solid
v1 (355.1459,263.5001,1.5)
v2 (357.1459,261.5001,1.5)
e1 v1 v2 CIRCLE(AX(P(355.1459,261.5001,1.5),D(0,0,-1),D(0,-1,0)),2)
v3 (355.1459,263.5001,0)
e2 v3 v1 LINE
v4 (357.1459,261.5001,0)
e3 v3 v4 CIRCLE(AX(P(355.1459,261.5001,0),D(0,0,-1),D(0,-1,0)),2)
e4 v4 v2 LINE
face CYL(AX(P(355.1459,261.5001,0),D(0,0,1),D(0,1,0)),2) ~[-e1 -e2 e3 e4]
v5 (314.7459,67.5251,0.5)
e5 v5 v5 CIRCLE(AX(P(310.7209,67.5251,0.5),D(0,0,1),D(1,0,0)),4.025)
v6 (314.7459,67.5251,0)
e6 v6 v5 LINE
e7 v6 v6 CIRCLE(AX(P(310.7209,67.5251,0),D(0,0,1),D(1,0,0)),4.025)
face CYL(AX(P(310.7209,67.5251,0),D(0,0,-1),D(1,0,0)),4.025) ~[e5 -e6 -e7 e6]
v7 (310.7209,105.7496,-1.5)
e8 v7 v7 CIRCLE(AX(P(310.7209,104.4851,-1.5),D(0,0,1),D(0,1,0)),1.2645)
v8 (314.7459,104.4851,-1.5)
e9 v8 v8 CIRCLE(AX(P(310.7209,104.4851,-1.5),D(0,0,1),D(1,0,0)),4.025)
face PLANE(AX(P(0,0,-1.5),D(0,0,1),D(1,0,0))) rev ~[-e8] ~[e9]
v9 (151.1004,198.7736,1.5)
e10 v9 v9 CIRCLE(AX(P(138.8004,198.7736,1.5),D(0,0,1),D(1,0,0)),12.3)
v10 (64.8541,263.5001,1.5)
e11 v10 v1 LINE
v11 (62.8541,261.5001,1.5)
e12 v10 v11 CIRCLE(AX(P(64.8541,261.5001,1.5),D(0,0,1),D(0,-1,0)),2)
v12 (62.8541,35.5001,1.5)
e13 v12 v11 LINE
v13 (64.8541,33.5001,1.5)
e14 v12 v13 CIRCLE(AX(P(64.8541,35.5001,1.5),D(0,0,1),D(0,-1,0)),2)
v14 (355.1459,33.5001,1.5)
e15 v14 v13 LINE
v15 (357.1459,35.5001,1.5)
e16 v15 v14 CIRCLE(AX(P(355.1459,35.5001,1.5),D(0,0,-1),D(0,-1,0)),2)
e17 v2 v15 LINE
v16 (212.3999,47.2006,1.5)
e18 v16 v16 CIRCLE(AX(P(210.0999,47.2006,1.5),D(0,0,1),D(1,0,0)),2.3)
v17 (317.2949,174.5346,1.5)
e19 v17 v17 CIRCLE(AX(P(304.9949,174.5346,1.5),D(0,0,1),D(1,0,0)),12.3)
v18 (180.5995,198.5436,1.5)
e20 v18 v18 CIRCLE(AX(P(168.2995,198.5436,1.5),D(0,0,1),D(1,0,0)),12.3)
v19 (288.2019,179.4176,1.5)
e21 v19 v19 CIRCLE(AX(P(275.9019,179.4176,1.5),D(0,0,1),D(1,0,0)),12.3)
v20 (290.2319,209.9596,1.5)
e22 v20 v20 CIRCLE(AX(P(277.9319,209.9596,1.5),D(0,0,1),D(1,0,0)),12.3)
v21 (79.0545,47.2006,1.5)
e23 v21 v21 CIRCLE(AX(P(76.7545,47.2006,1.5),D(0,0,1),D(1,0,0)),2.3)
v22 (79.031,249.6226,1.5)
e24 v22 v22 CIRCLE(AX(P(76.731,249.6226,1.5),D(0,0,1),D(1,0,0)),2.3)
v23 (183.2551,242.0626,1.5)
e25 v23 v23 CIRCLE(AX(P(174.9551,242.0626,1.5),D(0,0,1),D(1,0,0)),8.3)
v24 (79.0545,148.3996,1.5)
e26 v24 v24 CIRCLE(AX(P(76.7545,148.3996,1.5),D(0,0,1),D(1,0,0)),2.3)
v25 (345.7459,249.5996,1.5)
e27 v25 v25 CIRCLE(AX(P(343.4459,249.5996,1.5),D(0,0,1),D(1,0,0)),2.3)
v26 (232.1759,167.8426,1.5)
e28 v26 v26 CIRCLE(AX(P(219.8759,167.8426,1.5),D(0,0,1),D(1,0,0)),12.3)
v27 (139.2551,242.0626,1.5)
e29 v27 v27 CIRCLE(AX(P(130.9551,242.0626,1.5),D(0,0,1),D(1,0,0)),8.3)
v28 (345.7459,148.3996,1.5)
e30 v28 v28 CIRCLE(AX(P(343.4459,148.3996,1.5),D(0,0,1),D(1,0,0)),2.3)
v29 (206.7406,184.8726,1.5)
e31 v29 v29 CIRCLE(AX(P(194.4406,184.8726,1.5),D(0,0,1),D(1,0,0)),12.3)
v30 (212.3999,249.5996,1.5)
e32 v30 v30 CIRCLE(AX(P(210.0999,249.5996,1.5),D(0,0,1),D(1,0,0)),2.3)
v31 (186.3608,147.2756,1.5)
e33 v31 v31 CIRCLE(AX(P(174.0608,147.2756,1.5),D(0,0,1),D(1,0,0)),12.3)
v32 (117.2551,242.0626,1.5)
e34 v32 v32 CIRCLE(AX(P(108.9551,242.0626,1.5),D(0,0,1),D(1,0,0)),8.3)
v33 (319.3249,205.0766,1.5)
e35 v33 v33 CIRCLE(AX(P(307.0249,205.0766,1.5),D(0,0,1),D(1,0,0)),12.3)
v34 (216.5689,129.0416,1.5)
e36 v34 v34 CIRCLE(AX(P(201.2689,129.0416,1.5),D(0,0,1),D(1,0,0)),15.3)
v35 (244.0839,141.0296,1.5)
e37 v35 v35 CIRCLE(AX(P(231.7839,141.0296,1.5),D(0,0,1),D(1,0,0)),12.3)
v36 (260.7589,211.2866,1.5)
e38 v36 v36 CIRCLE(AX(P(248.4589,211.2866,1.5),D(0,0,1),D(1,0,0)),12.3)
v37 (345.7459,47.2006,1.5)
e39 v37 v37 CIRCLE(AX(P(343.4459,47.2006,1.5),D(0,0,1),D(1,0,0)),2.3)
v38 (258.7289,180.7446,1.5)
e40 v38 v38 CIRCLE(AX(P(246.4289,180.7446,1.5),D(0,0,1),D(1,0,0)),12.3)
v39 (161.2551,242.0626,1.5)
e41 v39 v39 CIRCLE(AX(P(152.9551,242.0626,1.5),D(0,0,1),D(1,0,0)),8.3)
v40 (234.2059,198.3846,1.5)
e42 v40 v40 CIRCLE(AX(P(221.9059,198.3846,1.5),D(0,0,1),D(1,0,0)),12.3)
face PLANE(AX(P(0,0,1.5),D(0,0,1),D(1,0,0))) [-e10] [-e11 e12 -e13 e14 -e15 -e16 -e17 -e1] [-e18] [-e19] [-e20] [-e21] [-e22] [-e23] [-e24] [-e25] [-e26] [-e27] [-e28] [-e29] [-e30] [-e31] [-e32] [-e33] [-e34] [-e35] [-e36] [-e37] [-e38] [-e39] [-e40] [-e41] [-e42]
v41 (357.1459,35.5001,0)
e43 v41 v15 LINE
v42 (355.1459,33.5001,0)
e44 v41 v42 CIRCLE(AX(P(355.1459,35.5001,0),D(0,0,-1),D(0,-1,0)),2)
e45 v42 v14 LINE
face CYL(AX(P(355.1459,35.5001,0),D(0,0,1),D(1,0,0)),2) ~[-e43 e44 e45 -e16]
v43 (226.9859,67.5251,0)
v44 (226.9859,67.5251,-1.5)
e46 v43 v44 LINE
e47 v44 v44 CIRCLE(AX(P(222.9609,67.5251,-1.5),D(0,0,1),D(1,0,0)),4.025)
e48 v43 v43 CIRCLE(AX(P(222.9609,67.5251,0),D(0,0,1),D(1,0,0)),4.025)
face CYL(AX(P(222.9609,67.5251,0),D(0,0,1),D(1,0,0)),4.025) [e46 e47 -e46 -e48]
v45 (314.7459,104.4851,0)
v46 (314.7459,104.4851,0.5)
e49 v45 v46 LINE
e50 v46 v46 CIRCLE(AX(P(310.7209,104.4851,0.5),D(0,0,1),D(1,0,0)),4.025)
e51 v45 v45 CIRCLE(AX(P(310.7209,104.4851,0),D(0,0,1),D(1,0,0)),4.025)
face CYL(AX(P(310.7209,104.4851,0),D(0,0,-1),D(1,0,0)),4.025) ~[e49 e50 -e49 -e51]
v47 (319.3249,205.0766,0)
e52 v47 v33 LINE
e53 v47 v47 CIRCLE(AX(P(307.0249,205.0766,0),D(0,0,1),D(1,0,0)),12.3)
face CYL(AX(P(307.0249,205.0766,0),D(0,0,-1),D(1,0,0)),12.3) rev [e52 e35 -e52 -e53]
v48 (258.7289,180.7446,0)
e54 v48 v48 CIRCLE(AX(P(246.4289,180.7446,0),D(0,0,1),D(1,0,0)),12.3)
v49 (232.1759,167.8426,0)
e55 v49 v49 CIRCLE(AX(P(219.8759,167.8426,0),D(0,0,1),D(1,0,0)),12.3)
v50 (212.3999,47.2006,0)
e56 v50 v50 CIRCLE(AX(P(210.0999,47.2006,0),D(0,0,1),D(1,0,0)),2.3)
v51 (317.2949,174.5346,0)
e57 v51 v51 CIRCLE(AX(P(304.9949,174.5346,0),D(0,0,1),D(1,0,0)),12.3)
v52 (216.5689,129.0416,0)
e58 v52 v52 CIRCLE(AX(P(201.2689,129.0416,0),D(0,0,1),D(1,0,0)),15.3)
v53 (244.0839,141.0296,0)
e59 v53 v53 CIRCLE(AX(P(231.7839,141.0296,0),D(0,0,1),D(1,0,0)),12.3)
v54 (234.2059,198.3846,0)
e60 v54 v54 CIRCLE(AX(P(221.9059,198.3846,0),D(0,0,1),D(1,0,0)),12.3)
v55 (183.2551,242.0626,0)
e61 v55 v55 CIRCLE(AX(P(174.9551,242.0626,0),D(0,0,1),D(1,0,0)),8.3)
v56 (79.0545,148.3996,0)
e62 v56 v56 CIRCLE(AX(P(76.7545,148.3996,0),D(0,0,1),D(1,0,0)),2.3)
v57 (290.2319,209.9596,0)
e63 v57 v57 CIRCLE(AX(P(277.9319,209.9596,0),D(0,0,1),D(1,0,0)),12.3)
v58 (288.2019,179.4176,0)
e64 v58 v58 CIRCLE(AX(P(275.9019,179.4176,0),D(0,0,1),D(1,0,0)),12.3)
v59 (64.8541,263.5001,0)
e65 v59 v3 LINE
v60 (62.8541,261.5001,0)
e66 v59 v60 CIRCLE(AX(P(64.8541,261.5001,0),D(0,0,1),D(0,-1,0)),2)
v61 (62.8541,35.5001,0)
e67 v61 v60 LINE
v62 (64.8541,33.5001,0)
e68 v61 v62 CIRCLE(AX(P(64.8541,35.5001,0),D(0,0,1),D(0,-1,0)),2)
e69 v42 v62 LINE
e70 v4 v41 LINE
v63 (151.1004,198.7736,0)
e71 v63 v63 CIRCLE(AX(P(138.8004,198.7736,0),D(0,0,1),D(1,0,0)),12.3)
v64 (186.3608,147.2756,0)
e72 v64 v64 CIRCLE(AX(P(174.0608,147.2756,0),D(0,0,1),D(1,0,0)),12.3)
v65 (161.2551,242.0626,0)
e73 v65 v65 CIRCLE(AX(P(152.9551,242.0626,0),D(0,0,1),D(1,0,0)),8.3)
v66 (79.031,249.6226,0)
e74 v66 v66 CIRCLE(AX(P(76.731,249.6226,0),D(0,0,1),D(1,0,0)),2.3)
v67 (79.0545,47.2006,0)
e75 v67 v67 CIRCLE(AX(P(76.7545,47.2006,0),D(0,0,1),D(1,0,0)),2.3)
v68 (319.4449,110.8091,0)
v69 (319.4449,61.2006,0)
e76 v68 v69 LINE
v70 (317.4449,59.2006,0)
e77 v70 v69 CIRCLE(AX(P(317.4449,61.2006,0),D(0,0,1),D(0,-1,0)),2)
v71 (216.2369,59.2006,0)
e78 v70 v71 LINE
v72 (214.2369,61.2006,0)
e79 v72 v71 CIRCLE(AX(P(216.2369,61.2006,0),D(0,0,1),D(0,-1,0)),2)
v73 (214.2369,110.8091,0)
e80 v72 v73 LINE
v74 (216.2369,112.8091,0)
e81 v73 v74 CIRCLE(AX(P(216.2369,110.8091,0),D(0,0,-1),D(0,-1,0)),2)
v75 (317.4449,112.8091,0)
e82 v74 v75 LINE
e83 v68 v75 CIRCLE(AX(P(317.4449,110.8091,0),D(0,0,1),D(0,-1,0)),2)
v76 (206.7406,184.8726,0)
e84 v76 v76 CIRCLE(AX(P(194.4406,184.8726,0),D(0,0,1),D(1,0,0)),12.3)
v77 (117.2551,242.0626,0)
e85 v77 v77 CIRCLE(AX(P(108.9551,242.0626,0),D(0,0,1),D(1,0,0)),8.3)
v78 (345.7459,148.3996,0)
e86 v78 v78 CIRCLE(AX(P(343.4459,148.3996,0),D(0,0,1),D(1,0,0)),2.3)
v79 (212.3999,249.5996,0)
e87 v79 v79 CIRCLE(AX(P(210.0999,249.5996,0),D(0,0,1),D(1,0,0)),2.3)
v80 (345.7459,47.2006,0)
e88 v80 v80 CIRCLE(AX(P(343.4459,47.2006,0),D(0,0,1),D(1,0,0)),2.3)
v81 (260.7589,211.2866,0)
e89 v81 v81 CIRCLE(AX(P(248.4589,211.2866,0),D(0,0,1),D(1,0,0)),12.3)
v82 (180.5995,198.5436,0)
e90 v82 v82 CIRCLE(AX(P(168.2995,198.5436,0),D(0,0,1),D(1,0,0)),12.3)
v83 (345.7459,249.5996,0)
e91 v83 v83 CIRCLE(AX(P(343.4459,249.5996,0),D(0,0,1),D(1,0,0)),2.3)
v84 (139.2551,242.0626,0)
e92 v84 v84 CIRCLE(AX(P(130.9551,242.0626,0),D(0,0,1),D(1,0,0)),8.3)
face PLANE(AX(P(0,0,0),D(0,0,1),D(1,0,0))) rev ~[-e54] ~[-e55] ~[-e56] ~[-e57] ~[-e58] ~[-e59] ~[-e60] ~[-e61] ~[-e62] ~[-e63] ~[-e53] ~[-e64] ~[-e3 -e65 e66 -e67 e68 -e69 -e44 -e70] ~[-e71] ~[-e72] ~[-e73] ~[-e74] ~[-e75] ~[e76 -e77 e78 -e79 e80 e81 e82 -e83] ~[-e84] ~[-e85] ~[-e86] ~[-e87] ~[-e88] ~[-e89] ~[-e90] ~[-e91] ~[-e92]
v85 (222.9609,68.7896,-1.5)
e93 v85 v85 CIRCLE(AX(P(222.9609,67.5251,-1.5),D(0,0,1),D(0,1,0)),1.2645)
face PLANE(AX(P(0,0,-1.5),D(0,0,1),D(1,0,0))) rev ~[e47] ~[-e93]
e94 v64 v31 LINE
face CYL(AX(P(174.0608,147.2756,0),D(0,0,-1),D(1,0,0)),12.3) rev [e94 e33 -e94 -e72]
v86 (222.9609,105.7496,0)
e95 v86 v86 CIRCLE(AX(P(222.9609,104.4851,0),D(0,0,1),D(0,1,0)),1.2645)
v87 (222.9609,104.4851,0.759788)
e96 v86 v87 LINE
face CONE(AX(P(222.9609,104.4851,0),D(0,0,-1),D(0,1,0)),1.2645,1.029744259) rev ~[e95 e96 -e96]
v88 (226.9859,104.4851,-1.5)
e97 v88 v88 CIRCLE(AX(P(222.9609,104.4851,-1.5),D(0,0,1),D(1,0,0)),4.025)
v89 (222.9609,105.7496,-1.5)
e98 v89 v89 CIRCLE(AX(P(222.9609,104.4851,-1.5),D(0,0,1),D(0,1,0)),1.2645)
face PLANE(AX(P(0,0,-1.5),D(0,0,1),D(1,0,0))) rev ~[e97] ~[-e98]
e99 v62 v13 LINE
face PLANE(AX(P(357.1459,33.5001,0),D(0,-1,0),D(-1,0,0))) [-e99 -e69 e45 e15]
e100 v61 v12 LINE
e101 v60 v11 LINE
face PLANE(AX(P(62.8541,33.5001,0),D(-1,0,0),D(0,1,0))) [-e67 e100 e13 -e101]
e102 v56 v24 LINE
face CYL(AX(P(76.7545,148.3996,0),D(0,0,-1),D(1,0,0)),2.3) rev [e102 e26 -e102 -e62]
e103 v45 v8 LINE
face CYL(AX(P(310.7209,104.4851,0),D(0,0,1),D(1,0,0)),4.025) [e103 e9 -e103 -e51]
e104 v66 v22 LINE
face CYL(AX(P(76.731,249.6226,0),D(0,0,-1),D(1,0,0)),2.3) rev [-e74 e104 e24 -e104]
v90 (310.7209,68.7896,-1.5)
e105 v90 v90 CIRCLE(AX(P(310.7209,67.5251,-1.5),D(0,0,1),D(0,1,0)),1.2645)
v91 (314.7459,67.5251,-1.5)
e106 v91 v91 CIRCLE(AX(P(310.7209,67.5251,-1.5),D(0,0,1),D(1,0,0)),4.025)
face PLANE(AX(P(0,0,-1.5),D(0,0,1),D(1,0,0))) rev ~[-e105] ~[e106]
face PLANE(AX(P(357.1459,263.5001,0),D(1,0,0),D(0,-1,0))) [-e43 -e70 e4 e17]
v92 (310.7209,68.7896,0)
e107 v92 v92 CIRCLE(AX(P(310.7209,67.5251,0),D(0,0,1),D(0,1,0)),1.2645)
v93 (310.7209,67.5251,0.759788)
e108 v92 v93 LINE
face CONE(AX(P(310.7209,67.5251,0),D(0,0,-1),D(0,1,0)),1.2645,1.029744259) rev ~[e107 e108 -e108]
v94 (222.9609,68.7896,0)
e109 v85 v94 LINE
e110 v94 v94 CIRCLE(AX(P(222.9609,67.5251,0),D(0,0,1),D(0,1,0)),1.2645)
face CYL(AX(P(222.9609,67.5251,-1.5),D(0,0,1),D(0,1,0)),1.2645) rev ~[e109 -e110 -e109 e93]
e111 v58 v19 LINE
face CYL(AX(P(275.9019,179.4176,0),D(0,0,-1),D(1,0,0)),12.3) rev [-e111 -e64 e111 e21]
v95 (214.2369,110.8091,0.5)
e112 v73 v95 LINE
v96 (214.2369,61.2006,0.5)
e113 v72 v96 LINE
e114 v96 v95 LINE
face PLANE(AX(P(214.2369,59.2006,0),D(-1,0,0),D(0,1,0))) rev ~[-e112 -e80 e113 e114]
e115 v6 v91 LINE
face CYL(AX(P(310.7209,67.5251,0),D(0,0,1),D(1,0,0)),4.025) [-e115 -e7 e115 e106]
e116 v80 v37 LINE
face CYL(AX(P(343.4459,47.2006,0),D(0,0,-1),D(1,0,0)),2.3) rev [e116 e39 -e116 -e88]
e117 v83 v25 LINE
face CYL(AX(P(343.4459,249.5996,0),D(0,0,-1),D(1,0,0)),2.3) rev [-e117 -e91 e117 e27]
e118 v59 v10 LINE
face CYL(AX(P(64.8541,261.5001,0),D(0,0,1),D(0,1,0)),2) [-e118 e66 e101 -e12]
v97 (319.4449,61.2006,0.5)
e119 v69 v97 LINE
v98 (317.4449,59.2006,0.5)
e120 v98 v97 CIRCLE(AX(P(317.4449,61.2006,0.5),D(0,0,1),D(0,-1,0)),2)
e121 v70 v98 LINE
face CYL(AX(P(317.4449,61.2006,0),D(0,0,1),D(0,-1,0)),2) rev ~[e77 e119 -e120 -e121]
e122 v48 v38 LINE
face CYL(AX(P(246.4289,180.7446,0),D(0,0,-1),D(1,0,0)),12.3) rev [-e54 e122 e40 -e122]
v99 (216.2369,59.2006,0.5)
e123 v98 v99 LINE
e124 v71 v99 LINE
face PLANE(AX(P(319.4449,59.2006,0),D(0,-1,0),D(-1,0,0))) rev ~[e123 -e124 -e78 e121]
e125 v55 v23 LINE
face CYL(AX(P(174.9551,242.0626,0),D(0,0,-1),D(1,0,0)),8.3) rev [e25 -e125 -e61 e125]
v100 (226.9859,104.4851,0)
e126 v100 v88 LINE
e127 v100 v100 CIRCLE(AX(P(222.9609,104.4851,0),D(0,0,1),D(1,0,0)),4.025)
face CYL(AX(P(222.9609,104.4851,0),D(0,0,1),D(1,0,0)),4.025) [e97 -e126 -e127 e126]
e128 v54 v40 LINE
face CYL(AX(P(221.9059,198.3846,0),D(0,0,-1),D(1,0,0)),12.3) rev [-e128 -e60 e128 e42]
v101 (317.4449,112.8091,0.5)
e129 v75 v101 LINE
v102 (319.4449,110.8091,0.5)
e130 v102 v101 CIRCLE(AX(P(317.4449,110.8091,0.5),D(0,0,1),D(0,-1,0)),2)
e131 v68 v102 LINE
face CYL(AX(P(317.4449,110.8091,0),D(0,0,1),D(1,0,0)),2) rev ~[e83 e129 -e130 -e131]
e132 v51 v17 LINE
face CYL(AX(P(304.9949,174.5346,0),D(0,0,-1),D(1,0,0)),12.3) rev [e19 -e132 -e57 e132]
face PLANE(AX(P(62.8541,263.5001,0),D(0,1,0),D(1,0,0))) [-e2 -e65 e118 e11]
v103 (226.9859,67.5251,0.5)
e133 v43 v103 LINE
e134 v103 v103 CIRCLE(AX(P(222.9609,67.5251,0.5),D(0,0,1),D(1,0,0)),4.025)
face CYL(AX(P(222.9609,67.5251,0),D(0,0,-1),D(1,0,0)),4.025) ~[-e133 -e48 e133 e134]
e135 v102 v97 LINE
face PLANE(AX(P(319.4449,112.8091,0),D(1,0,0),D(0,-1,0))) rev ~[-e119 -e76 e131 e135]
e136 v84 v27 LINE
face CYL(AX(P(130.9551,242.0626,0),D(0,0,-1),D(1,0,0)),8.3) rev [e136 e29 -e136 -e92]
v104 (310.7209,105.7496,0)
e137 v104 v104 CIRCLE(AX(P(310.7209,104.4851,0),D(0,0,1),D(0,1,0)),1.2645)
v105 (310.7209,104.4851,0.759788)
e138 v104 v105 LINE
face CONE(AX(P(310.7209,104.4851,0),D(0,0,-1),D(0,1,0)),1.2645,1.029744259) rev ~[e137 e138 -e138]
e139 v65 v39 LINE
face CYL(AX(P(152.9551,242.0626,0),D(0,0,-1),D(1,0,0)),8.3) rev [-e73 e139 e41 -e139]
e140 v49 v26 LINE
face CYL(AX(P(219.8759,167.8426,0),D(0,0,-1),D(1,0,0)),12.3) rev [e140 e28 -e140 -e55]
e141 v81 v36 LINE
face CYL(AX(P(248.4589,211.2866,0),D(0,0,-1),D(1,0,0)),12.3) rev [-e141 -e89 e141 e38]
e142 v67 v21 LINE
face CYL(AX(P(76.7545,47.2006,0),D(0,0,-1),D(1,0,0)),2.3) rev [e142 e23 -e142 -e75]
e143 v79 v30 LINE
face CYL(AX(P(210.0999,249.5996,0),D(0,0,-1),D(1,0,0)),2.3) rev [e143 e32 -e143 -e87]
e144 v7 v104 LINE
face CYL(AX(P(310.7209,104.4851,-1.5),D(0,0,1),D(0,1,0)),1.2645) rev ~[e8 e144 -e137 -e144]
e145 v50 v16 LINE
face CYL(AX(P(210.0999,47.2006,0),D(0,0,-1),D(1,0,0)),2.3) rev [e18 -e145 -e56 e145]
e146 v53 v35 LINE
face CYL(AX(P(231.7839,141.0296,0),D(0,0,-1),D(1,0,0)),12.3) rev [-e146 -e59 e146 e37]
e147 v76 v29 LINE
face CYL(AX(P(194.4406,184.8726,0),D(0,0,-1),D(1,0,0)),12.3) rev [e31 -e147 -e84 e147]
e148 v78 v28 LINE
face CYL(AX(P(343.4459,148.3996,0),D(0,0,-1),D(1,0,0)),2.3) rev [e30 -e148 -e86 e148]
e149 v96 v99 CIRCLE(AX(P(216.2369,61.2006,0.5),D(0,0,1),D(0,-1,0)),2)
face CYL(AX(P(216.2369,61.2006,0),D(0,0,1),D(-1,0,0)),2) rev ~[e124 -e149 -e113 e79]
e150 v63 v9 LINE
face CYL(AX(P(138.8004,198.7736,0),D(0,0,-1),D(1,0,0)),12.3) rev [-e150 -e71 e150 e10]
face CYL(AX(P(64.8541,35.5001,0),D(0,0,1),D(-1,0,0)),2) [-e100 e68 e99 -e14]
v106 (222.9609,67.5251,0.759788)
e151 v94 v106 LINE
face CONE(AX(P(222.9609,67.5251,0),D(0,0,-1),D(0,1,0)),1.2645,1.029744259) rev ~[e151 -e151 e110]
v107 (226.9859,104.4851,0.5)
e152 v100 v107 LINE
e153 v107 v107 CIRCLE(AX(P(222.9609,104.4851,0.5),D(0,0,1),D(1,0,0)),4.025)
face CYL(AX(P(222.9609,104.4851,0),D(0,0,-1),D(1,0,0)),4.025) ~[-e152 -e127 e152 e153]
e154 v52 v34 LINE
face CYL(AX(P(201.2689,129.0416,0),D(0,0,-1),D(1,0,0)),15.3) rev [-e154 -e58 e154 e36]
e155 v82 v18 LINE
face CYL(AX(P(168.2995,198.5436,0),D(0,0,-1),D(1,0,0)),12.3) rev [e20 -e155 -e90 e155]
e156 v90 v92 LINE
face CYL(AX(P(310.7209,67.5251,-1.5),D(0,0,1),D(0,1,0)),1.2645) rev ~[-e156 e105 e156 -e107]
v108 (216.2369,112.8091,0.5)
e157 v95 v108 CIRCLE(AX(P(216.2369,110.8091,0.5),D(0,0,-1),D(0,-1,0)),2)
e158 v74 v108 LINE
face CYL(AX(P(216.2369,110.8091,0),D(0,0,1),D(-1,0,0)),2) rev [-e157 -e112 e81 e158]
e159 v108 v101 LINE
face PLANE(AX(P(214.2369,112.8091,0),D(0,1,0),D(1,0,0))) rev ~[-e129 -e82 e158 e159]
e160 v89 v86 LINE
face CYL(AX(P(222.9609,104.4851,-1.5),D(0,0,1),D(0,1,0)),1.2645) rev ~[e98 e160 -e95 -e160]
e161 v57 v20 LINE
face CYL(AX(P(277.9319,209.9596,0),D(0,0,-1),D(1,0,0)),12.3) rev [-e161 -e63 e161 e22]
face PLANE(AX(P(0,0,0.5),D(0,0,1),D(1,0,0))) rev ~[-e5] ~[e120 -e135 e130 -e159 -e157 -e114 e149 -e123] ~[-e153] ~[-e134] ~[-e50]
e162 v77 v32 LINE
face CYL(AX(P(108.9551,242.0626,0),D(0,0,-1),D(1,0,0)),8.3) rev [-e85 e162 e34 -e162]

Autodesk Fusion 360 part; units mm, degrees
sketch "panel" plane through (0, 0, 0) normal (0, 0, 1) x (1, 0, 0)
  line L0 (62.8541, 263.5001) -> (357.1459, 263.5001)
  line L1 (357.1459, 263.5001) -> (357.1459, 33.5001)
  line L2 (357.1459, 33.5001) -> (62.8541, 33.5001)
  line L3 (62.8541, 33.5001) -> (62.8541, 263.5001)
  line L4 (137.8887, 199.6854) -> (139.7122, 197.8619)
  line L5 (139.7122, 199.6854) -> (137.8887, 197.8619)
  line L6 (167.3878, 199.4554) -> (169.2113, 197.6319)
  line L7 (169.2113, 199.4554) -> (167.3878, 197.6319)
  line L8 (193.5289, 185.7844) -> (195.3524, 183.9609)
  line L9 (195.3524, 185.7844) -> (193.5289, 183.9609)
  line L10 (220.9942, 199.2964) -> (222.8177, 197.4729)
  line L11 (222.8177, 199.2964) -> (220.9942, 197.4729)
  line L12 (247.5472, 212.1984) -> (249.3707, 210.3749)
  line L13 (249.3707, 212.1984) -> (247.5472, 210.3749)
  line L14 (277.0202, 210.8714) -> (278.8437, 209.0479)
  line L15 (278.8437, 210.8714) -> (277.0202, 209.0479)
  line L16 (306.1132, 205.9884) -> (307.9366, 204.1649)
  line L17 (307.9366, 205.9884) -> (306.1132, 204.1649)
  line L18 (304.0832, 175.4464) -> (305.9067, 173.6229)
  line L19 (305.9067, 175.4464) -> (304.0832, 173.6229)
  line L20 (274.9902, 180.3294) -> (276.8136, 178.5059)
  line L21 (276.8136, 180.3294) -> (274.9902, 178.5059)
  line L22 (245.5172, 181.6564) -> (247.3407, 179.8329)
  line L23 (247.3407, 181.6564) -> (245.5172, 179.8329)
  line L24 (218.9642, 168.7544) -> (220.7877, 166.9309)
  line L25 (220.7877, 168.7544) -> (218.9642, 166.9309)
  line L26 (230.8722, 141.9414) -> (232.6957, 140.1179)
  line L27 (232.6957, 141.9414) -> (230.8722, 140.1179)
  line L28 (173.1491, 148.1874) -> (174.9726, 146.3639)
  line L29 (174.9726, 148.1874) -> (173.1491, 146.3639)
  line L30 (200.3572, 129.9534) -> (202.1807, 128.1299)
  line L31 (202.1807, 129.9534) -> (200.3572, 128.1299)
  line L32 (108.0433, 242.9744) -> (109.8668, 241.1509)
  line L33 (109.8668, 242.9744) -> (108.0433, 241.1509)
  line L34 (130.0434, 242.9744) -> (131.8669, 241.1509)
  line L35 (131.8668, 242.9744) -> (130.0434, 241.1509)
  line L36 (152.0434, 242.9744) -> (153.8668, 241.1509)
  line L37 (153.8668, 242.9744) -> (152.0434, 241.1509)
  line L38 (174.0434, 242.9744) -> (175.8668, 241.1509)
  line L39 (175.8668, 242.9744) -> (174.0434, 241.1509)
  line L40 (75.8193, 250.5344) -> (77.6428, 248.7109)
  line L41 (77.6428, 250.5344) -> (75.8193, 248.7109)
  line L42 (75.8428, 149.3114) -> (77.6663, 147.4879)
  line L43 (77.6663, 149.3114) -> (75.8428, 147.4879)
  line L44 (75.8428, 48.1124) -> (77.6663, 46.2889)
  line L45 (77.6663, 48.1124) -> (75.8428, 46.2889)
  line L46 (209.1882, 250.5114) -> (211.0117, 248.6879)
  line L47 (211.0117, 250.5114) -> (209.1882, 248.6879)
  line L48 (342.5342, 149.3114) -> (344.3576, 147.4879)
  line L49 (344.3576, 149.3114) -> (342.5342, 147.4879)
  line L50 (342.5342, 250.5114) -> (344.3576, 248.6879)
  line L51 (344.3576, 250.5114) -> (342.5342, 248.6879)
  line L52 (342.5342, 48.1124) -> (344.3576, 46.2889)
  line L53 (344.3576, 48.1124) -> (342.5342, 46.2889)
  line L54 (209.1882, 48.1124) -> (211.0117, 46.2889)
  line L55 (211.0117, 48.1124) -> (209.1882, 46.2889)
  circle A0 centre (76.731, 249.6226) radius 2.3
  circle A1 centre (76.7545, 148.3996) radius 2.3
  circle A2 centre (76.7545, 47.2006) radius 2.3
  circle A3 centre (210.0999, 249.5996) radius 2.3
  circle A4 centre (343.4459, 249.5996) radius 2.3
  circle A5 centre (343.4459, 148.3996) radius 2.3
  circle A6 centre (343.4459, 47.2006) radius 2.3
  circle A7 centre (210.0999, 47.2006) radius 2.3
  circle A8 centre (138.8004, 198.7736) radius 12.3
  circle A9 centre (168.2995, 198.5436) radius 12.3
  circle A10 centre (194.4406, 184.8726) radius 12.3
  circle A11 centre (219.8759, 167.8426) radius 12.3
  circle A12 centre (221.9059, 198.3846) radius 12.3
  circle A13 centre (248.4589, 211.2866) radius 12.3
  circle A14 centre (246.4289, 180.7446) radius 12.3
  circle A15 centre (275.9019, 179.4176) radius 12.3
  circle A16 centre (277.9319, 209.9596) radius 12.3
  circle A17 centre (307.0249, 205.0766) radius 12.3
  circle A18 centre (304.9949, 174.5346) radius 12.3
  circle A19 centre (174.0608, 147.2756) radius 12.3
  circle A20 centre (231.7839, 141.0296) radius 12.3
  circle A21 centre (201.2689, 129.0416) radius 15.3
  circle A22 centre (108.9551, 242.0626) radius 8.3
  circle A23 centre (130.9551, 242.0626) radius 8.3
  circle A24 centre (152.9551, 242.0626) radius 8.3
  circle A25 centre (174.9551, 242.0626) radius 8.3
  line L56 (222.9609, 104.4851) -> (310.7209, 104.4851) construction
  line L57 (310.7209, 104.4851) -> (310.7209, 67.5251) construction
  line L58 (310.7209, 67.5251) -> (222.9609, 67.5251) construction
  line L59 (222.9609, 67.5251) -> (222.9609, 104.4851) construction
  line L60 (218.5359, 108.5101) -> (315.1459, 108.5101) construction
  line L61 (315.1459, 108.5101) -> (315.1459, 63.5001) construction
  line L62 (315.1459, 63.5001) -> (218.5359, 63.5001) construction
  line L63 (218.5359, 63.5001) -> (218.5359, 108.5101) construction
  line L64 (222.9609, 104.4851) -> (310.7209, 67.5251) construction
  line L65 (310.7209, 104.4851) -> (222.9609, 67.5251) construction
  line L66 (266.8409, 67.5251) -> (266.8409, 104.4851) construction
  line L67 (310.7209, 86.0051) -> (222.9609, 86.0051) construction
  line L68 (357.1459, 33.5001) -> (315.1459, 33.5001) construction
  line L69 (315.1459, 33.5001) -> (315.1459, 63.5001) construction
  line L70 (315.1459, 63.5001) -> (357.1459, 63.5001) construction
  line L71 (357.1459, 63.5001) -> (357.1459, 33.5001) construction
  circle A26 centre (222.9609, 104.4851) radius 1.6 construction
  circle A27 centre (222.9609, 67.5251) radius 1.6 construction
  circle A28 centre (310.7209, 67.5251) radius 1.6 construction
  circle A29 centre (310.7209, 104.4851) radius 1.6 construction
  circle A30 centre (222.9609, 104.4851) radius 4.025
  circle A31 centre (222.9609, 67.5251) radius 4.025
  circle A32 centre (310.7209, 67.5251) radius 4.025
  circle A33 centre (310.7209, 104.4851) radius 4.025
  line L72 (210.0999, 47.2006) -> (220.0999, 47.2006) construction
  line L73 (220.0999, 47.2006) -> (220.0999, 57.2006) construction
  line L74 (220.0999, 57.2006) -> (210.0999, 57.2006) construction
  line L75 (210.0999, 57.2006) -> (210.0999, 47.2006) construction
  line L76 (343.4459, 47.2006) -> (333.4459, 47.2006) construction
  line L77 (333.4459, 47.2006) -> (333.4459, 57.2006) construction
  line L78 (333.4459, 57.2006) -> (343.4459, 57.2006) construction
  line L79 (343.4459, 57.2006) -> (343.4459, 47.2006) construction
  line L80 (214.2369, 112.8091) -> (319.4449, 112.8091)
  line L81 (319.4449, 112.8091) -> (319.4449, 59.2006)
  line L82 (319.4449, 59.2006) -> (214.2369, 59.2006)
  line L83 (214.2369, 59.2006) -> (214.2369, 112.8091)
  dimension "d1" = 4.6
  dimension "d2" = 4.6
  dimension "d3" = 4.6
  dimension "d4" = 4.6
  dimension "d5" = 4.6
  dimension "d6" = 4.6
  dimension "d7" = 4.6
  dimension "d8" = 4.6
  dimension "d9" = 24.6
  dimension "d10" = 24.6
  dimension "d11" = 24.6
  dimension "d12" = 24.6
  dimension "d13" = 24.6
  dimension "d14" = 24.6
  dimension "d15" = 24.6
  dimension "d16" = 24.6
  dimension "d17" = 24.6
  dimension "d18" = 24.6
  dimension "d19" = 24.6
  dimension "d20" = 24.6
  dimension "d21" = 24.6
  dimension "d22" = 30.6
  dimension "d23" = 16.6
  dimension "d24" = 16.6
  dimension "d25" = 16.6
  dimension "d26" = 16.6
  dimension "d31" = 36.96
  dimension "d32" = 87.76
  dimension "d33" = 96.61
  dimension "d34" = 45.01
  dimension "d35" = 42
  dimension "d36" = 30
  dimension "d37" = 3.2
  dimension "d38" = 3.2
  dimension "d39" = 3.2
  dimension "d40" = 3.2
  dimension "d41" = 10
  dimension "d42" = 10
  dimension "d43" = 10
  dimension "d44" = 10
  dimension "d45" = 2
  dimension "d47" = 4.299
  dimension "d48" = 4.299
  dimension "d73" = 4.299
extrude "Extrude1" add sketch "panel" along normal blind 1.5 contours L0 L1 L2 L3 | A30 | A31 | A32 | A33 | L80 L81 L82 L83
fillet "Fillet1" radius 2 4 edges at (62.8541, 33.5001, 0.75) (62.8541, 263.5001, 0.75) (357.1459, 33.5001, 0.75) (357.1459, 263.5001, 0.75)
extrude "Extrude2" cut sketch "panel" along normal blind 0.5 contours L80 L81 L82 L83
extrude "Extrude3" add 4 faces at (311.7044, 105.7976, 0) (223.2594, 103.1771, 0) (223.2594, 66.2171, 0) (311.9888, 66.3632, 0) along direction (0, 0, -1) blind 1.5
hole "Hole1" at (310.7209, 104.4851, -1.5) direction (0, 0, 1) diameter 2.529 depth 1.5 tip angle 118
hole "Hole2" at (310.7209, 67.5251, -1.5) direction (0, 0, 1) diameter 2.529 depth 1.5 tip angle 118
hole "Hole3" at (222.9609, 104.4851, -1.5) direction (0, 0, 1) diameter 2.529 depth 1.5 tip angle 118
hole "Hole4" at (222.9609, 67.5251, -1.5) direction (0, 0, 1) diameter 2.529 depth 1.5 tip angle 118
fillet "Fillet2" radius 2 4 edges at (319.4449, 112.8091, 0.25) (214.2369, 112.8091, 0.25) (214.2369, 59.2006, 0.25) (319.4449, 59.2006, 0.25)
